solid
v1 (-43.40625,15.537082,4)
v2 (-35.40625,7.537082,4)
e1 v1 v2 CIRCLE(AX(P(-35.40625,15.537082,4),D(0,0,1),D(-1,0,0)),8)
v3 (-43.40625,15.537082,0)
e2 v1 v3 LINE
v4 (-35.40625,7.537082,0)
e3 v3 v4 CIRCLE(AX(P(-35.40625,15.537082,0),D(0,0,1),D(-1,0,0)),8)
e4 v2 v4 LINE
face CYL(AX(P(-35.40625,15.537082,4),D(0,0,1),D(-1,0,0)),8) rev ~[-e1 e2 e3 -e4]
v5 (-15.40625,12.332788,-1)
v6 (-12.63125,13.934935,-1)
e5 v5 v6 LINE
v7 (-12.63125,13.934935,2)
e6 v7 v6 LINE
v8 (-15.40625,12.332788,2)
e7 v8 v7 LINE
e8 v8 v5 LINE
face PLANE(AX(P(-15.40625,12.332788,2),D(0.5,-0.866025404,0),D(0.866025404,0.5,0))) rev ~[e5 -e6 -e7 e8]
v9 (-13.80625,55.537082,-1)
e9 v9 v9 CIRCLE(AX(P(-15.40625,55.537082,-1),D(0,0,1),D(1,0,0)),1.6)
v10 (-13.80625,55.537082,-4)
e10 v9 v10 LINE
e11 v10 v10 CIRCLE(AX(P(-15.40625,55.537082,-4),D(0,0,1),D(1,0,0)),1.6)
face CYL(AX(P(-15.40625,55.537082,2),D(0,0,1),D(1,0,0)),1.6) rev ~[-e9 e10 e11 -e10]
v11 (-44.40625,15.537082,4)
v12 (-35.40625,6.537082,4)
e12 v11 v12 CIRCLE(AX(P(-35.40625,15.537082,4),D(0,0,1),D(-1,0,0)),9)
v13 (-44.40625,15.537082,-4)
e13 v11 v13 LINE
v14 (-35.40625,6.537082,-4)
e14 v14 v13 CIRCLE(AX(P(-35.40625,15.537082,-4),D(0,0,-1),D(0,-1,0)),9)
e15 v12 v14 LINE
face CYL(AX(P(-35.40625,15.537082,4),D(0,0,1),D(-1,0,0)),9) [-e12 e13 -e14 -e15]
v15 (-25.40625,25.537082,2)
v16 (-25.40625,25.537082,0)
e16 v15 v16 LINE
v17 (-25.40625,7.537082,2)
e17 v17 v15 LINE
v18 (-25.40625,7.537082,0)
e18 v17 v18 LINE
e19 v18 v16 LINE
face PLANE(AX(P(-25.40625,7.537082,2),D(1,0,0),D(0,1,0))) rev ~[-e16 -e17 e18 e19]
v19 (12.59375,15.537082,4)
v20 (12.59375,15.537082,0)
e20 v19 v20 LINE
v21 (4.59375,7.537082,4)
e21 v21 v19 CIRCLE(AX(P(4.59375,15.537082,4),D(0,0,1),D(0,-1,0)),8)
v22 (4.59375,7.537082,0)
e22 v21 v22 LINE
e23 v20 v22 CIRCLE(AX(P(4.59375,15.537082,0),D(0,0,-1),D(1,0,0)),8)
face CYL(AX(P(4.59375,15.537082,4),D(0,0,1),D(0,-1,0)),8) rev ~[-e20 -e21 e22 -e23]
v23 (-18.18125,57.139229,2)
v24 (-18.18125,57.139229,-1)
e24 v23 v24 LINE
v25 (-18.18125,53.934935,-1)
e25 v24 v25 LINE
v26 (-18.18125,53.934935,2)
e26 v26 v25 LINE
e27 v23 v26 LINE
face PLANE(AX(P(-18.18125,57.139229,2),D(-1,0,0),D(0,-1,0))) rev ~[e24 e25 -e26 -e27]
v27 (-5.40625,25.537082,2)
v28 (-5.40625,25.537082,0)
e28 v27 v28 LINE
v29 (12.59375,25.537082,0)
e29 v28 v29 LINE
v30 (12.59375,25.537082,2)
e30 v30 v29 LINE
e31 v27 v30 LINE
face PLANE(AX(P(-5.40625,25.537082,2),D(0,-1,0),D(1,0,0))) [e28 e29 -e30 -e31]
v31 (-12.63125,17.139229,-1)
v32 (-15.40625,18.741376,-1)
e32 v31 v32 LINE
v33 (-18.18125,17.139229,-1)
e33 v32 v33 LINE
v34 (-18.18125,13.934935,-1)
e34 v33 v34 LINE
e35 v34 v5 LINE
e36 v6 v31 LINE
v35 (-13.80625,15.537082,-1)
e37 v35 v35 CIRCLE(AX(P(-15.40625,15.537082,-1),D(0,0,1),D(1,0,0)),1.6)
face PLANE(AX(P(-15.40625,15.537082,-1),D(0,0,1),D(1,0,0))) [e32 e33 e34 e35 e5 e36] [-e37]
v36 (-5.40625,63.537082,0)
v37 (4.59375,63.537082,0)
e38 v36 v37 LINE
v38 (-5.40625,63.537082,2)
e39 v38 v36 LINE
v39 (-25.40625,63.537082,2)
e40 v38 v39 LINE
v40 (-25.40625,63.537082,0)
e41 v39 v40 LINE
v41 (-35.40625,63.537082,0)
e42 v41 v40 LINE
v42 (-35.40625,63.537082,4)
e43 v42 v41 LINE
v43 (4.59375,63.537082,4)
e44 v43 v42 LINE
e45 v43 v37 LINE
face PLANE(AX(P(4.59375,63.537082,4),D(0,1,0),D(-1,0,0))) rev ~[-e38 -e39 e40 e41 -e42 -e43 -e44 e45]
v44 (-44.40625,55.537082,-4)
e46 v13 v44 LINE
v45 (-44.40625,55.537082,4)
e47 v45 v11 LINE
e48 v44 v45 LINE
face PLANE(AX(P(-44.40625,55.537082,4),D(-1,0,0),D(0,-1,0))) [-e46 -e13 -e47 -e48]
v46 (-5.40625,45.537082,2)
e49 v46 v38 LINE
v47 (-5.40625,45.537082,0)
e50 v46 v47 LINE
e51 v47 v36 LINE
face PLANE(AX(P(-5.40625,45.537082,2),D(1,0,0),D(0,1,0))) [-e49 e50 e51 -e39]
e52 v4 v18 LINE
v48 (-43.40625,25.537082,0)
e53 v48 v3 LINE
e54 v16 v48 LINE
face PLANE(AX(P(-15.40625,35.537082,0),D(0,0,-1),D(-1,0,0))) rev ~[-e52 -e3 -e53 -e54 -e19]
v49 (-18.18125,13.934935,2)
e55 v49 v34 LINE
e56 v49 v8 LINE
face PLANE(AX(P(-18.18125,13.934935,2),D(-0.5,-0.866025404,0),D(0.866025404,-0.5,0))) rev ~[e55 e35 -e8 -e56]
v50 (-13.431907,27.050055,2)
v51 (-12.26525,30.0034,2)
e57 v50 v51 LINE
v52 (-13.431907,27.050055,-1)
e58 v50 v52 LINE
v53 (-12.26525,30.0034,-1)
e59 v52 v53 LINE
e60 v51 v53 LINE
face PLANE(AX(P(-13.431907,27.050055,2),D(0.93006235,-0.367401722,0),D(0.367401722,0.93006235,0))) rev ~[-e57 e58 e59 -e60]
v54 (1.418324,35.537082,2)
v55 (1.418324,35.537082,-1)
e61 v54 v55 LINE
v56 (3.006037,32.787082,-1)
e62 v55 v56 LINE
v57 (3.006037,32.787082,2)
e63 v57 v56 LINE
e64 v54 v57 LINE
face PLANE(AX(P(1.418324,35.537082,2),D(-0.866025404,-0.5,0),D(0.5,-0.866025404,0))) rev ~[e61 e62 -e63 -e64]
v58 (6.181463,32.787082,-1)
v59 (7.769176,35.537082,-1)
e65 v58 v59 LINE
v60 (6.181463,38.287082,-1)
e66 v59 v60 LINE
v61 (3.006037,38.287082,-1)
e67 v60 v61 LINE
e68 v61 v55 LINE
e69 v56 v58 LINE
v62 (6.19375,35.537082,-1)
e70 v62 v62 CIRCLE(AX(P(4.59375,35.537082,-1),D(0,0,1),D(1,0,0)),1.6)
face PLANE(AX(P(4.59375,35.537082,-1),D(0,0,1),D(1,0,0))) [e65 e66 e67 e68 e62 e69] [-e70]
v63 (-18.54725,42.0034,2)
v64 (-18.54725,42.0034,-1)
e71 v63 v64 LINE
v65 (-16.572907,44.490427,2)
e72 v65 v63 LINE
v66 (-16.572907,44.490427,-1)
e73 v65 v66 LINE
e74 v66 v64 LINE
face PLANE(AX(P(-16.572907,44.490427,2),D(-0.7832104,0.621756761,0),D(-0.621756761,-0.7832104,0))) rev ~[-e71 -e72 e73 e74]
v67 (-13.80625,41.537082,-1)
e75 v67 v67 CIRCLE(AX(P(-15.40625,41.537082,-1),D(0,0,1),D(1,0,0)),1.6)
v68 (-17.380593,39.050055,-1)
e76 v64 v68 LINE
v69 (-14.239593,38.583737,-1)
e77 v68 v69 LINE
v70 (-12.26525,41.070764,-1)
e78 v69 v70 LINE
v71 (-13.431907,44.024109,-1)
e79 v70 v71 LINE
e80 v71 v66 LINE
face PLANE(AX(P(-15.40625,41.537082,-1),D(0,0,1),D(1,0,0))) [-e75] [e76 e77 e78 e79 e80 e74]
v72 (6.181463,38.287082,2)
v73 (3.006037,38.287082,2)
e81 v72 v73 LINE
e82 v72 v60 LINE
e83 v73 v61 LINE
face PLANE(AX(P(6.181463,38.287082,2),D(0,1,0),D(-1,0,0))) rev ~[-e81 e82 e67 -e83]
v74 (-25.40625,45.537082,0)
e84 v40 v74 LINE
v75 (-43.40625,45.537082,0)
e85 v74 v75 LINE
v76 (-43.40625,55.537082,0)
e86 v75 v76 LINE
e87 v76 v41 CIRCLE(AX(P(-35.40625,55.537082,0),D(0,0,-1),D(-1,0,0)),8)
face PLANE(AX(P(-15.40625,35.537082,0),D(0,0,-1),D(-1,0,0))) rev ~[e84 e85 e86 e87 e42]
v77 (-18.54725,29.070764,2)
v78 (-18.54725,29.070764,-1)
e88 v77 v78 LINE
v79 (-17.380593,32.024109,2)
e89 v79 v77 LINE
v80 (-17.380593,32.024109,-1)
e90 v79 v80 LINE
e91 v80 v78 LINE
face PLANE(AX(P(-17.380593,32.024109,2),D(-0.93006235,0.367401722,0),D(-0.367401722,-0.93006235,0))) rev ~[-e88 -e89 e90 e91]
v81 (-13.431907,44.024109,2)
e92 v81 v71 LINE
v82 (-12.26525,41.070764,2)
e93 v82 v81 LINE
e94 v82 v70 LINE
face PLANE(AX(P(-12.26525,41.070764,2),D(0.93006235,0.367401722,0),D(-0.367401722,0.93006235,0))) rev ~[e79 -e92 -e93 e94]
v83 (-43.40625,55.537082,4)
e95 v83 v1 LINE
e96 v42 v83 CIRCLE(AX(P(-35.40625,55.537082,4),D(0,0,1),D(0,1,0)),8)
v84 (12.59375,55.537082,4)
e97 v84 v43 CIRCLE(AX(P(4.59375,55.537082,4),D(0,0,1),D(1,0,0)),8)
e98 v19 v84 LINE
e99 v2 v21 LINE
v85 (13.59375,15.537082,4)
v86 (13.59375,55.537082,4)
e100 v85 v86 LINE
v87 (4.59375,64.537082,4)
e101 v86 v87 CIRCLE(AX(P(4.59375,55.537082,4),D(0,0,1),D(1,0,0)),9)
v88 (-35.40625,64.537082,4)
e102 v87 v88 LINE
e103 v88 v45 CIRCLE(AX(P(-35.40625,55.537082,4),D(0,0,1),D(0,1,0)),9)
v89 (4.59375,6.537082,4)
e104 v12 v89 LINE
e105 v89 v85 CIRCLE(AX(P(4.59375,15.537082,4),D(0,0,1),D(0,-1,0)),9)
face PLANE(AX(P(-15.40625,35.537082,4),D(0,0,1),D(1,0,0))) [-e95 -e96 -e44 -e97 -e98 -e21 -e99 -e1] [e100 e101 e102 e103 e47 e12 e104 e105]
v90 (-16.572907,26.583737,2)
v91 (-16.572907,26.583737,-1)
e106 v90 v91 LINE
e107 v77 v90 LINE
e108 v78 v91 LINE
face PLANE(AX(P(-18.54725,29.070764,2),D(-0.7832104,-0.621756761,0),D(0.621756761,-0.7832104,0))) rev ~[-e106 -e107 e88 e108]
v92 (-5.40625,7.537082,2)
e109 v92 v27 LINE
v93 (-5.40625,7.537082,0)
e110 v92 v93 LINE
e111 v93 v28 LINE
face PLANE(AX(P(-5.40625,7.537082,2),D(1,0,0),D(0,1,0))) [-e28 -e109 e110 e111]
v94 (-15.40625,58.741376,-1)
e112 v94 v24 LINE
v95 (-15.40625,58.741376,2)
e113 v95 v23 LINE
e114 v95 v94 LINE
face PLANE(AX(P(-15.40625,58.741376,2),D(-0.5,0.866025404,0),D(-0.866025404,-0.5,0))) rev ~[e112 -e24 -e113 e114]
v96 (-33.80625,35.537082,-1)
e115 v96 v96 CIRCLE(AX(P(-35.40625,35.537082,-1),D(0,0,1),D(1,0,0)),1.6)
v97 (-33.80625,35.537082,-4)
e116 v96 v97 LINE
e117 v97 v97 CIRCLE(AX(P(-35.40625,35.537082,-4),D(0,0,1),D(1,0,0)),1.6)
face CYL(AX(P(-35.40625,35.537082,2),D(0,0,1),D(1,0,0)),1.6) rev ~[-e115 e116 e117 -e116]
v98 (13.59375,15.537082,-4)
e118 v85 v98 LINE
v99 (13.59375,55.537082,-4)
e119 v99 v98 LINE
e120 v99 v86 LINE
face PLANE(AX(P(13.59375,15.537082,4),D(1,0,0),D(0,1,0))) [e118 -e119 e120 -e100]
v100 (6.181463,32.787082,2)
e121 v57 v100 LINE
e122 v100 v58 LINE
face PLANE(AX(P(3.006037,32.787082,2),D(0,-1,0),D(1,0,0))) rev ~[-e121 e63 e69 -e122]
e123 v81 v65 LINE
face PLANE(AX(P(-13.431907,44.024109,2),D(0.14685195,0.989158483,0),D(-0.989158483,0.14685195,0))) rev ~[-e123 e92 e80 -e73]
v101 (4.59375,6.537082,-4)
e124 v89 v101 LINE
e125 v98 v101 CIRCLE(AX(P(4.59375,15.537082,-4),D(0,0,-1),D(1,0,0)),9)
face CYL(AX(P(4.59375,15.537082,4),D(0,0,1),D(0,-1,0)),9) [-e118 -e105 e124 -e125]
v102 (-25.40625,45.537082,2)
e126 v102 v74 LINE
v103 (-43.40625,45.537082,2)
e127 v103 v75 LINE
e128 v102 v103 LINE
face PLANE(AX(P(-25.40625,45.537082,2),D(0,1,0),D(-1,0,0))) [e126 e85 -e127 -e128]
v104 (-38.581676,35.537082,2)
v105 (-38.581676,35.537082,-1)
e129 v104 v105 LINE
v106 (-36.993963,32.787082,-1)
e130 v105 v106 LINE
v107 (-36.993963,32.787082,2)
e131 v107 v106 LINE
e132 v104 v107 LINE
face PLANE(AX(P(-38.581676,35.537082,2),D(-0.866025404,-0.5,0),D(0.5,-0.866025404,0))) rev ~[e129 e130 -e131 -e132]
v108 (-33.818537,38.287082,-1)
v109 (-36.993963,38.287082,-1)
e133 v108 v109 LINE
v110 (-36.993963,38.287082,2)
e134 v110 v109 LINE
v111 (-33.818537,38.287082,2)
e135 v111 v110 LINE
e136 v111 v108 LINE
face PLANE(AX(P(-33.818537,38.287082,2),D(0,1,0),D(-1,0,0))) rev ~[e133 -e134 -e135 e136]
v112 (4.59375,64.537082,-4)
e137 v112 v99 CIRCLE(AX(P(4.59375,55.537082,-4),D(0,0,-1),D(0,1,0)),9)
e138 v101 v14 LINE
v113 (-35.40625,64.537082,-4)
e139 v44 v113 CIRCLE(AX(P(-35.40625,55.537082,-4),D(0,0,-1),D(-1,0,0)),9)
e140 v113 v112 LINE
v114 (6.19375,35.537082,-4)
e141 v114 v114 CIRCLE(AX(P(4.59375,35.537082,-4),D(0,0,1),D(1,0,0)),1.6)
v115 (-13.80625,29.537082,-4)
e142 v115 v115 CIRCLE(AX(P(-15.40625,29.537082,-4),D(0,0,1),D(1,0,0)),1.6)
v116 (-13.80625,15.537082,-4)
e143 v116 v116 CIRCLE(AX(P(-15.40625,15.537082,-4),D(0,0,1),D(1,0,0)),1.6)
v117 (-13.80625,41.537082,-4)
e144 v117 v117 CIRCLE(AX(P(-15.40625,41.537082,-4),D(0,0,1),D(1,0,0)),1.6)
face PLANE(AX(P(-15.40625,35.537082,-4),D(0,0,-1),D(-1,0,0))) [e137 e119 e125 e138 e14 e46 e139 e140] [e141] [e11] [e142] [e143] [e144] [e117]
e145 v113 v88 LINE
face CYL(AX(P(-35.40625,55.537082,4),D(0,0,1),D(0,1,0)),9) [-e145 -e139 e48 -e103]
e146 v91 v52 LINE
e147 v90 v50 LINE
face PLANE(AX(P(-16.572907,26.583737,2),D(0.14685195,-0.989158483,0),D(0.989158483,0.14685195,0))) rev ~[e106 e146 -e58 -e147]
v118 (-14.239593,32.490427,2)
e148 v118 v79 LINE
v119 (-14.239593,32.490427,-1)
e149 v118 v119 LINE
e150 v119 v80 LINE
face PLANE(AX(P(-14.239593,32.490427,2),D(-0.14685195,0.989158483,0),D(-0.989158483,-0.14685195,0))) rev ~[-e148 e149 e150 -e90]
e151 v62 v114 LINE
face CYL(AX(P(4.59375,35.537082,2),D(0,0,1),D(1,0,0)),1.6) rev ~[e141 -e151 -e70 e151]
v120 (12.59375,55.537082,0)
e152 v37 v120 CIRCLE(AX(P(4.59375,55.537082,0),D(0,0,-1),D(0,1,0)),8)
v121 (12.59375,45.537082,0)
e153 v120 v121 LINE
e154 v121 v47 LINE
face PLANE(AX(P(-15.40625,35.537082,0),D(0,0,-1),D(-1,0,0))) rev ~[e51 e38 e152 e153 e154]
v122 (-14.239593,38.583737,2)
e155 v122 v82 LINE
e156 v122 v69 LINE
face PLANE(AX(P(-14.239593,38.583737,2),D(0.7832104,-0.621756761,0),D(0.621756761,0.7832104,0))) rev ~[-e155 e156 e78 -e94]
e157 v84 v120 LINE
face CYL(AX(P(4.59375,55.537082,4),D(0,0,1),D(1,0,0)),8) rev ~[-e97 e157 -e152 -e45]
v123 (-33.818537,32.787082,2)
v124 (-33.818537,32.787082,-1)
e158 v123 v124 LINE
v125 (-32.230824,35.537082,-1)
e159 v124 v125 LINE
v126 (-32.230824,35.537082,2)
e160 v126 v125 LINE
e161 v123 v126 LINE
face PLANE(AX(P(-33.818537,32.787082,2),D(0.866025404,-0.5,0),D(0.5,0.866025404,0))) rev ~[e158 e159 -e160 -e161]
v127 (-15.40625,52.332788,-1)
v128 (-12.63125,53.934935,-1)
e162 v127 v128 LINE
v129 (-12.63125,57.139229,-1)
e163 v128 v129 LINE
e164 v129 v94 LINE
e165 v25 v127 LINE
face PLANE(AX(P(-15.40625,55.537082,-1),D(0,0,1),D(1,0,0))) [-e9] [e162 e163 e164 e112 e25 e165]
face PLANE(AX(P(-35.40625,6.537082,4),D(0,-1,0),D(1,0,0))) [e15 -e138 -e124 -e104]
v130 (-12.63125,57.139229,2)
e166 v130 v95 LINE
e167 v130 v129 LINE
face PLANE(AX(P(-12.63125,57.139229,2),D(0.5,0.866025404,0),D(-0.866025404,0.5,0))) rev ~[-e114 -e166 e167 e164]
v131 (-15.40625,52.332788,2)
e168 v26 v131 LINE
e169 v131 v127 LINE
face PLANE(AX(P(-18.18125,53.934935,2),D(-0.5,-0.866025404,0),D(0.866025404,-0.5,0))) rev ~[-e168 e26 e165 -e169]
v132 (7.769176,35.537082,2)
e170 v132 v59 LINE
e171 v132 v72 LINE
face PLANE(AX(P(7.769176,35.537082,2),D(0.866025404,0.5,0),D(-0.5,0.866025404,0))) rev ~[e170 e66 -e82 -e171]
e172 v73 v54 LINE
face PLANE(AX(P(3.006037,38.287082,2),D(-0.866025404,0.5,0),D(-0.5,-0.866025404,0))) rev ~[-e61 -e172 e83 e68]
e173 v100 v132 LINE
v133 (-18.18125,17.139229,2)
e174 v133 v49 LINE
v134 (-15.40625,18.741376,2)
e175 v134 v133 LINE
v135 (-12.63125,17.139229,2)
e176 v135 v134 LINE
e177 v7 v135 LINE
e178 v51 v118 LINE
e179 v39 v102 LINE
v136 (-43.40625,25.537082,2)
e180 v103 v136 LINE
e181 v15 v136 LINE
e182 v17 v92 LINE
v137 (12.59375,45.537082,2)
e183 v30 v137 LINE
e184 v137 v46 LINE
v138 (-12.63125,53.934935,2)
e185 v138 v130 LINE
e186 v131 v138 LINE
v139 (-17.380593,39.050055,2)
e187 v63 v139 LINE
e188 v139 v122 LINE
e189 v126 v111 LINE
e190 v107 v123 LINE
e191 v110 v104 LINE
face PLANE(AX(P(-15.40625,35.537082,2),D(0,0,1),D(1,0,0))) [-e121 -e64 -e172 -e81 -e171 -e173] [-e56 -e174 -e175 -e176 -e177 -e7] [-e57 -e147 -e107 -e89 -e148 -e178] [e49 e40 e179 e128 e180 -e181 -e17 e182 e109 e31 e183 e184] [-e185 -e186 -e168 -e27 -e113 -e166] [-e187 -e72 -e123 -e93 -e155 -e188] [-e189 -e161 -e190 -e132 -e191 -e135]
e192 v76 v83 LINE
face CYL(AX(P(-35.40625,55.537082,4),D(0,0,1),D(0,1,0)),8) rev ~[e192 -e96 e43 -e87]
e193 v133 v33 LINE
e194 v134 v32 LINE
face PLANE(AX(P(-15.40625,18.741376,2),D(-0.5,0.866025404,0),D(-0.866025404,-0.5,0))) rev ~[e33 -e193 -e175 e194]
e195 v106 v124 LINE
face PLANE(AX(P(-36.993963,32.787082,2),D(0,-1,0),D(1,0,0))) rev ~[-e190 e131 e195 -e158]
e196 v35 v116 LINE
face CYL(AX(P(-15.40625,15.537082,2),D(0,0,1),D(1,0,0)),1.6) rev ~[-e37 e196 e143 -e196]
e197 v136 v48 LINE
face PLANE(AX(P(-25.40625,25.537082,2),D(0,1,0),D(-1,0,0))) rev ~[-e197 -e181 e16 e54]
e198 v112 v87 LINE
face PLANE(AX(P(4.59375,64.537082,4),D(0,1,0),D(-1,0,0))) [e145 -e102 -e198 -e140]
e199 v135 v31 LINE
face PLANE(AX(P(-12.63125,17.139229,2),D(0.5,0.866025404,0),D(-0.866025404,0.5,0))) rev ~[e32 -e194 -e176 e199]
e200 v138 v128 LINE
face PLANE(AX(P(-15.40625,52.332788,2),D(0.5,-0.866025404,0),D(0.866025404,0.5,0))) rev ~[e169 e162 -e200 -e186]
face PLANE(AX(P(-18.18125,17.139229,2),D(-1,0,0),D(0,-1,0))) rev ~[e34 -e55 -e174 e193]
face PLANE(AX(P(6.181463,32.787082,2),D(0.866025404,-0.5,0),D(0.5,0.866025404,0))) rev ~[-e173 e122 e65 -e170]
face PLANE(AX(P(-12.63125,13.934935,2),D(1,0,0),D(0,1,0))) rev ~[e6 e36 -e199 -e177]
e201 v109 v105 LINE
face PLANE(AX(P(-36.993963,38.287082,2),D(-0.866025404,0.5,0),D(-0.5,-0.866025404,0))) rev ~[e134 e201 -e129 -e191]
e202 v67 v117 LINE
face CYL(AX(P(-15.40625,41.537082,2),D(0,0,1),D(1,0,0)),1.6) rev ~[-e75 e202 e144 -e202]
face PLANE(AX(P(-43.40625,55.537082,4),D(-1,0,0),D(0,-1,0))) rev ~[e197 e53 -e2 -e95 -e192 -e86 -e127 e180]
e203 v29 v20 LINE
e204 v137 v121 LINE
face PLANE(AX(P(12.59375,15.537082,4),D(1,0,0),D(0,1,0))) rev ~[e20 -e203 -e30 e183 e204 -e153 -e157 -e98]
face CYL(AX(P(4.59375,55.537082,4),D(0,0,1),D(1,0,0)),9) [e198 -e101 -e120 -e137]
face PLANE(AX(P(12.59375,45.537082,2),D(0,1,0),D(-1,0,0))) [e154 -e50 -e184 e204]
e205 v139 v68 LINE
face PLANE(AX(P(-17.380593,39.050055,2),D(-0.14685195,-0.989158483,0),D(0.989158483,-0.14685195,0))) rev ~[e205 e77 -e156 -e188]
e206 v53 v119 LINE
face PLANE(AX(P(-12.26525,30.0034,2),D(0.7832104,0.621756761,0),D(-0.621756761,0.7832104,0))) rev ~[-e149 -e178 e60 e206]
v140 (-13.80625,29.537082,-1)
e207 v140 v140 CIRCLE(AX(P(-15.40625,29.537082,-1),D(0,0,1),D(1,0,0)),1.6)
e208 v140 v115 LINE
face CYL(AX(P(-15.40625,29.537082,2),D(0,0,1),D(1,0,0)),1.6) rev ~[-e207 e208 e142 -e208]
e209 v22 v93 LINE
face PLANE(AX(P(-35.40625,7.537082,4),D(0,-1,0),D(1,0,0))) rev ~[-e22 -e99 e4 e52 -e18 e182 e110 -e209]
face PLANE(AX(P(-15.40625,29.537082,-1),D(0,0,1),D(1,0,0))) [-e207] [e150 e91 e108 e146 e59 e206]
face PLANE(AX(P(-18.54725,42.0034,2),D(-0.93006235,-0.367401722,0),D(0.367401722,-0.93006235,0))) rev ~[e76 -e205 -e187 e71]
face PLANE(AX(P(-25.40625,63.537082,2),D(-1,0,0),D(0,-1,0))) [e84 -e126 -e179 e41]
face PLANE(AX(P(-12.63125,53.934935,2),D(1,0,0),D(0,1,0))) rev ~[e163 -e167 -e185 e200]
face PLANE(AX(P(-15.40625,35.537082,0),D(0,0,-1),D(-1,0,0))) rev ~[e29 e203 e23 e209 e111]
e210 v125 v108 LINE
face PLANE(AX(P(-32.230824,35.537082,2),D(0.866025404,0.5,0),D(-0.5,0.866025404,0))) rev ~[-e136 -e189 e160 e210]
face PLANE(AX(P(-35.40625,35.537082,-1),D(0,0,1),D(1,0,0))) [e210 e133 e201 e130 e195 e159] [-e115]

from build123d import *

# Parameters (mm, degrees)
EXTRUDE_1_DEPTH     = 4
EXTRUDE_START       = 2
EXTRUDE_2_DEPTH     = 2
EXTRUDE_3_DEPTH     = 2
SKETCH_4_R          = 1.6
CUT_EXTRUDE_1_DEPTH = 10
CUT_EXTRUDE_2_DEPTH = 3
SKETCH_7_R          = 1.6
CUT_EXTRUDE_3_DEPTH = 10
CUT_EXTRUDE_4_DEPTH = 3


with BuildPart() as part:
    # 草图1 → 凸台-拉伸1 (new body)
    with BuildSketch(Plane.XY):
        with BuildLine():
            Line((-35.40625, 64.537081934), (4.59375, 64.537081934))
            ThreePointArc((4.59375, 64.537081934), (10.957711031, 61.901042965), (13.59375, 55.537081934))
            Line((13.59375, 55.537081934), (13.59375, 15.537081934))
            ThreePointArc((13.59375, 15.537081934), (10.957711031, 9.173120903), (4.59375, 6.537081934))
            Line((4.59375, 6.537081934), (-35.40625, 6.537081934))
            ThreePointArc((-35.40625, 6.537081934), (-41.770211031, 9.173120903), (-44.40625, 15.537081934))
            Line((-44.40625, 15.537081934), (-44.40625, 55.537081934))
            ThreePointArc((-44.40625, 55.537081934), (-41.770211031, 61.901042965), (-35.40625, 64.537081934))
        make_face()
    extrude(amount=-EXTRUDE_1_DEPTH)

    # 草图2 → 凸台-拉伸2 (add)
    with BuildSketch(Plane.XY.offset(EXTRUDE_START)):
        with BuildLine():
            Line((13.59375, 15.537081934), (13.59375, 55.537081934))
            ThreePointArc((13.59375, 55.537081934), (10.957711031, 61.901042965), (4.59375, 64.537081934))
            Line((4.59375, 64.537081934), (-35.40625, 64.537081934))
            ThreePointArc((-35.40625, 64.537081934), (-41.770211031, 61.901042965), (-44.40625, 55.537081934))
            Line((-44.40625, 55.537081934), (-44.40625, 15.537081934))
            ThreePointArc((-44.40625, 15.537081934), (-41.770211031, 9.173120903), (-35.40625, 6.537081934))
            Line((-35.40625, 6.537081934), (4.59375, 6.537081934))
            ThreePointArc((4.59375, 6.537081934), (10.957711031, 9.173120903), (13.59375, 15.537081934))
        make_face()
        with BuildLine():
            Line((-35.40625, 63.537081934), (-25.40625, 63.537081934))
            Line((-25.40625, 63.537081934), (-25.40625, 45.537081934))
            Line((-25.40625, 45.537081934), (-43.40625, 45.537081934))
            Line((-43.40625, 45.537081934), (-43.40625, 55.537081934))
            ThreePointArc((-43.40625, 55.537081934), (-41.063104249, 61.193936184), (-35.40625, 63.537081934))
        make_face(mode=Mode.SUBTRACT)
        with BuildLine():
            Line((12.59375, 55.537081934), (12.59375, 45.537081934))
            Line((12.59375, 45.537081934), (-5.40625, 45.537081934))
            Line((-5.40625, 45.537081934), (-5.40625, 63.537081934))
            Line((-5.40625, 63.537081934), (4.59375, 63.537081934))
            ThreePointArc((4.59375, 63.537081934), (10.250604249, 61.193936184), (12.59375, 55.537081934))
        make_face(mode=Mode.SUBTRACT)
        with BuildLine():
            Line((-35.40625, 7.537081934), (-25.40625, 7.537081934))
            Line((-25.40625, 7.537081934), (-25.40625, 25.537081934))
            Line((-25.40625, 25.537081934), (-43.40625, 25.537081934))
            Line((-43.40625, 25.537081934), (-43.40625, 15.537081934))
            ThreePointArc((-43.40625, 15.537081934), (-41.063104249, 9.880227685), (-35.40625, 7.537081934))
        make_face(mode=Mode.SUBTRACT)
        with BuildLine():
            Line((-5.40625, 25.537081934), (12.59375, 25.537081934))
            Line((12.59375, 25.537081934), (12.59375, 15.537081934))
            ThreePointArc((12.59375, 15.537081934), (10.250604249, 9.880227685), (4.59375, 7.537081934))
            Line((4.59375, 7.537081934), (-5.40625, 7.537081934))
            Line((-5.40625, 7.537081934), (-5.40625, 25.537081934))
        make_face(mode=Mode.SUBTRACT)
    extrude(amount=-EXTRUDE_2_DEPTH)

    # 草图3 → 凸台-拉伸3 (add)
    with BuildSketch(Plane.XY.offset(2).offset(EXTRUDE_START)):
        with BuildLine():
            Line((13.59375, 15.537081934), (13.59375, 55.537081934))
            ThreePointArc((13.59375, 55.537081934), (10.957711031, 61.901042965), (4.59375, 64.537081934))
            Line((4.59375, 64.537081934), (-35.40625, 64.537081934))
            ThreePointArc((-35.40625, 64.537081934), (-41.770211031, 61.901042965), (-44.40625, 55.537081934))
            Line((-44.40625, 55.537081934), (-44.40625, 15.537081934))
            ThreePointArc((-44.40625, 15.537081934), (-41.770211031, 9.173120903), (-35.40625, 6.537081934))
            Line((-35.40625, 6.537081934), (4.59375, 6.537081934))
            ThreePointArc((4.59375, 6.537081934), (10.957711031, 9.173120903), (13.59375, 15.537081934))
        make_face()
        with BuildLine():
            Line((-43.40625, 55.537081934), (-43.40625, 45.537081934))
            Line((-43.40625, 45.537081934), (-43.40625, 25.537081934))
            Line((-43.40625, 25.537081934), (-43.40625, 15.537081934))
            ThreePointArc((-43.40625, 15.537081934), (-41.063104249, 9.880227685), (-35.40625, 7.537081934))
            Line((-35.40625, 7.537081934), (-25.40625, 7.537081934))
            Line((-25.40625, 7.537081934), (-5.40625, 7.537081934))
            Line((-5.40625, 7.537081934), (4.59375, 7.537081934))
            ThreePointArc((4.59375, 7.537081934), (10.250604249, 9.880227685), (12.59375, 15.537081934))
            Line((12.59375, 15.537081934), (12.59375, 25.537081934))
            Line((12.59375, 25.537081934), (12.59375, 45.537081934))
            Line((12.59375, 45.537081934), (12.59375, 55.537081934))
            ThreePointArc((12.59375, 55.537081934), (10.250604249, 61.193936184), (4.59375, 63.537081934))
            Line((4.59375, 63.537081934), (-5.40625, 63.537081934))
            Line((-5.40625, 63.537081934), (-25.40625, 63.537081934))
            Line((-25.40625, 63.537081934), (-35.40625, 63.537081934))
            ThreePointArc((-35.40625, 63.537081934), (-41.063104249, 61.193936184), (-43.40625, 55.537081934))
        make_face(mode=Mode.SUBTRACT)
    extrude(amount=-EXTRUDE_3_DEPTH)

    # 草图4 → 切除-拉伸1 (cut)
    with BuildSketch(Plane.XY.offset(2)):
        with Locations((-15.40625, 41.537081934)):
            Circle(SKETCH_4_R)
        with Locations((-15.40625, 29.537081934)):
            Circle(SKETCH_4_R)
        with Locations((4.59375, 35.537081934)):
            Circle(SKETCH_4_R)
        with Locations((-35.40625, 35.537081934)):
            Circle(SKETCH_4_R)
    extrude(amount=-CUT_EXTRUDE_1_DEPTH, mode=Mode.SUBTRACT)

    # 草图5 → 切除-拉伸2 (cut)
    with BuildSketch(Plane.XY.offset(2)):
        Polygon((-13.431907117, 44.024108978), (-16.572907158, 44.490426548), (-18.547250041, 42.003399505), (-17.380592883, 39.050054891), (-14.239592842, 38.58373732), (-12.265249959, 41.070764364), align=None)
        Polygon((1.418323519, 35.537081934), (3.00603676, 32.787081934), (6.18146324, 32.787081934), (7.769176481, 35.537081934), (6.18146324, 38.287081934), (3.00603676, 38.287081934), align=None)
        Polygon((-13.431907117, 27.050054891), (-12.265249959, 30.003399505), (-14.239592842, 32.490426548), (-17.380592883, 32.024108978), (-18.547250041, 29.070764364), (-16.572907158, 26.58373732), align=None)
        Polygon((-32.230823519, 35.537081934), (-33.81853676, 38.287081934), (-36.99396324, 38.287081934), (-38.581676481, 35.537081934), (-36.99396324, 32.787081934), (-33.81853676, 32.787081934), align=None)
    extrude(amount=-CUT_EXTRUDE_2_DEPTH, mode=Mode.SUBTRACT)

    # 草图7 → 切除-拉伸3 (cut)
    with BuildSketch(Plane.XY.offset(2)):
        with Locations((-15.40625, 15.537081934)):
            Circle(SKETCH_7_R)
        with Locations((-15.40625, 55.537081934)):
            Circle(SKETCH_7_R)
    extrude(amount=-CUT_EXTRUDE_3_DEPTH, mode=Mode.SUBTRACT)

    # 草图8 → 切除-拉伸4 (cut)
    with BuildSketch(Plane.XY.offset(2)):
        Polygon((-15.40625, 18.741375928), (-18.18125, 17.139228931), (-18.18125, 13.934934937), (-15.40625, 12.33278794), (-12.63125, 13.934934937), (-12.63125, 17.139228931), align=None)
        Polygon((-15.40625, 58.741375928), (-18.18125, 57.139228931), (-18.18125, 53.934934937), (-15.40625, 52.33278794), (-12.63125, 53.934934937), (-12.63125, 57.139228931), align=None)
    extrude(amount=-CUT_EXTRUDE_4_DEPTH, mode=Mode.SUBTRACT)


solid = part.part
